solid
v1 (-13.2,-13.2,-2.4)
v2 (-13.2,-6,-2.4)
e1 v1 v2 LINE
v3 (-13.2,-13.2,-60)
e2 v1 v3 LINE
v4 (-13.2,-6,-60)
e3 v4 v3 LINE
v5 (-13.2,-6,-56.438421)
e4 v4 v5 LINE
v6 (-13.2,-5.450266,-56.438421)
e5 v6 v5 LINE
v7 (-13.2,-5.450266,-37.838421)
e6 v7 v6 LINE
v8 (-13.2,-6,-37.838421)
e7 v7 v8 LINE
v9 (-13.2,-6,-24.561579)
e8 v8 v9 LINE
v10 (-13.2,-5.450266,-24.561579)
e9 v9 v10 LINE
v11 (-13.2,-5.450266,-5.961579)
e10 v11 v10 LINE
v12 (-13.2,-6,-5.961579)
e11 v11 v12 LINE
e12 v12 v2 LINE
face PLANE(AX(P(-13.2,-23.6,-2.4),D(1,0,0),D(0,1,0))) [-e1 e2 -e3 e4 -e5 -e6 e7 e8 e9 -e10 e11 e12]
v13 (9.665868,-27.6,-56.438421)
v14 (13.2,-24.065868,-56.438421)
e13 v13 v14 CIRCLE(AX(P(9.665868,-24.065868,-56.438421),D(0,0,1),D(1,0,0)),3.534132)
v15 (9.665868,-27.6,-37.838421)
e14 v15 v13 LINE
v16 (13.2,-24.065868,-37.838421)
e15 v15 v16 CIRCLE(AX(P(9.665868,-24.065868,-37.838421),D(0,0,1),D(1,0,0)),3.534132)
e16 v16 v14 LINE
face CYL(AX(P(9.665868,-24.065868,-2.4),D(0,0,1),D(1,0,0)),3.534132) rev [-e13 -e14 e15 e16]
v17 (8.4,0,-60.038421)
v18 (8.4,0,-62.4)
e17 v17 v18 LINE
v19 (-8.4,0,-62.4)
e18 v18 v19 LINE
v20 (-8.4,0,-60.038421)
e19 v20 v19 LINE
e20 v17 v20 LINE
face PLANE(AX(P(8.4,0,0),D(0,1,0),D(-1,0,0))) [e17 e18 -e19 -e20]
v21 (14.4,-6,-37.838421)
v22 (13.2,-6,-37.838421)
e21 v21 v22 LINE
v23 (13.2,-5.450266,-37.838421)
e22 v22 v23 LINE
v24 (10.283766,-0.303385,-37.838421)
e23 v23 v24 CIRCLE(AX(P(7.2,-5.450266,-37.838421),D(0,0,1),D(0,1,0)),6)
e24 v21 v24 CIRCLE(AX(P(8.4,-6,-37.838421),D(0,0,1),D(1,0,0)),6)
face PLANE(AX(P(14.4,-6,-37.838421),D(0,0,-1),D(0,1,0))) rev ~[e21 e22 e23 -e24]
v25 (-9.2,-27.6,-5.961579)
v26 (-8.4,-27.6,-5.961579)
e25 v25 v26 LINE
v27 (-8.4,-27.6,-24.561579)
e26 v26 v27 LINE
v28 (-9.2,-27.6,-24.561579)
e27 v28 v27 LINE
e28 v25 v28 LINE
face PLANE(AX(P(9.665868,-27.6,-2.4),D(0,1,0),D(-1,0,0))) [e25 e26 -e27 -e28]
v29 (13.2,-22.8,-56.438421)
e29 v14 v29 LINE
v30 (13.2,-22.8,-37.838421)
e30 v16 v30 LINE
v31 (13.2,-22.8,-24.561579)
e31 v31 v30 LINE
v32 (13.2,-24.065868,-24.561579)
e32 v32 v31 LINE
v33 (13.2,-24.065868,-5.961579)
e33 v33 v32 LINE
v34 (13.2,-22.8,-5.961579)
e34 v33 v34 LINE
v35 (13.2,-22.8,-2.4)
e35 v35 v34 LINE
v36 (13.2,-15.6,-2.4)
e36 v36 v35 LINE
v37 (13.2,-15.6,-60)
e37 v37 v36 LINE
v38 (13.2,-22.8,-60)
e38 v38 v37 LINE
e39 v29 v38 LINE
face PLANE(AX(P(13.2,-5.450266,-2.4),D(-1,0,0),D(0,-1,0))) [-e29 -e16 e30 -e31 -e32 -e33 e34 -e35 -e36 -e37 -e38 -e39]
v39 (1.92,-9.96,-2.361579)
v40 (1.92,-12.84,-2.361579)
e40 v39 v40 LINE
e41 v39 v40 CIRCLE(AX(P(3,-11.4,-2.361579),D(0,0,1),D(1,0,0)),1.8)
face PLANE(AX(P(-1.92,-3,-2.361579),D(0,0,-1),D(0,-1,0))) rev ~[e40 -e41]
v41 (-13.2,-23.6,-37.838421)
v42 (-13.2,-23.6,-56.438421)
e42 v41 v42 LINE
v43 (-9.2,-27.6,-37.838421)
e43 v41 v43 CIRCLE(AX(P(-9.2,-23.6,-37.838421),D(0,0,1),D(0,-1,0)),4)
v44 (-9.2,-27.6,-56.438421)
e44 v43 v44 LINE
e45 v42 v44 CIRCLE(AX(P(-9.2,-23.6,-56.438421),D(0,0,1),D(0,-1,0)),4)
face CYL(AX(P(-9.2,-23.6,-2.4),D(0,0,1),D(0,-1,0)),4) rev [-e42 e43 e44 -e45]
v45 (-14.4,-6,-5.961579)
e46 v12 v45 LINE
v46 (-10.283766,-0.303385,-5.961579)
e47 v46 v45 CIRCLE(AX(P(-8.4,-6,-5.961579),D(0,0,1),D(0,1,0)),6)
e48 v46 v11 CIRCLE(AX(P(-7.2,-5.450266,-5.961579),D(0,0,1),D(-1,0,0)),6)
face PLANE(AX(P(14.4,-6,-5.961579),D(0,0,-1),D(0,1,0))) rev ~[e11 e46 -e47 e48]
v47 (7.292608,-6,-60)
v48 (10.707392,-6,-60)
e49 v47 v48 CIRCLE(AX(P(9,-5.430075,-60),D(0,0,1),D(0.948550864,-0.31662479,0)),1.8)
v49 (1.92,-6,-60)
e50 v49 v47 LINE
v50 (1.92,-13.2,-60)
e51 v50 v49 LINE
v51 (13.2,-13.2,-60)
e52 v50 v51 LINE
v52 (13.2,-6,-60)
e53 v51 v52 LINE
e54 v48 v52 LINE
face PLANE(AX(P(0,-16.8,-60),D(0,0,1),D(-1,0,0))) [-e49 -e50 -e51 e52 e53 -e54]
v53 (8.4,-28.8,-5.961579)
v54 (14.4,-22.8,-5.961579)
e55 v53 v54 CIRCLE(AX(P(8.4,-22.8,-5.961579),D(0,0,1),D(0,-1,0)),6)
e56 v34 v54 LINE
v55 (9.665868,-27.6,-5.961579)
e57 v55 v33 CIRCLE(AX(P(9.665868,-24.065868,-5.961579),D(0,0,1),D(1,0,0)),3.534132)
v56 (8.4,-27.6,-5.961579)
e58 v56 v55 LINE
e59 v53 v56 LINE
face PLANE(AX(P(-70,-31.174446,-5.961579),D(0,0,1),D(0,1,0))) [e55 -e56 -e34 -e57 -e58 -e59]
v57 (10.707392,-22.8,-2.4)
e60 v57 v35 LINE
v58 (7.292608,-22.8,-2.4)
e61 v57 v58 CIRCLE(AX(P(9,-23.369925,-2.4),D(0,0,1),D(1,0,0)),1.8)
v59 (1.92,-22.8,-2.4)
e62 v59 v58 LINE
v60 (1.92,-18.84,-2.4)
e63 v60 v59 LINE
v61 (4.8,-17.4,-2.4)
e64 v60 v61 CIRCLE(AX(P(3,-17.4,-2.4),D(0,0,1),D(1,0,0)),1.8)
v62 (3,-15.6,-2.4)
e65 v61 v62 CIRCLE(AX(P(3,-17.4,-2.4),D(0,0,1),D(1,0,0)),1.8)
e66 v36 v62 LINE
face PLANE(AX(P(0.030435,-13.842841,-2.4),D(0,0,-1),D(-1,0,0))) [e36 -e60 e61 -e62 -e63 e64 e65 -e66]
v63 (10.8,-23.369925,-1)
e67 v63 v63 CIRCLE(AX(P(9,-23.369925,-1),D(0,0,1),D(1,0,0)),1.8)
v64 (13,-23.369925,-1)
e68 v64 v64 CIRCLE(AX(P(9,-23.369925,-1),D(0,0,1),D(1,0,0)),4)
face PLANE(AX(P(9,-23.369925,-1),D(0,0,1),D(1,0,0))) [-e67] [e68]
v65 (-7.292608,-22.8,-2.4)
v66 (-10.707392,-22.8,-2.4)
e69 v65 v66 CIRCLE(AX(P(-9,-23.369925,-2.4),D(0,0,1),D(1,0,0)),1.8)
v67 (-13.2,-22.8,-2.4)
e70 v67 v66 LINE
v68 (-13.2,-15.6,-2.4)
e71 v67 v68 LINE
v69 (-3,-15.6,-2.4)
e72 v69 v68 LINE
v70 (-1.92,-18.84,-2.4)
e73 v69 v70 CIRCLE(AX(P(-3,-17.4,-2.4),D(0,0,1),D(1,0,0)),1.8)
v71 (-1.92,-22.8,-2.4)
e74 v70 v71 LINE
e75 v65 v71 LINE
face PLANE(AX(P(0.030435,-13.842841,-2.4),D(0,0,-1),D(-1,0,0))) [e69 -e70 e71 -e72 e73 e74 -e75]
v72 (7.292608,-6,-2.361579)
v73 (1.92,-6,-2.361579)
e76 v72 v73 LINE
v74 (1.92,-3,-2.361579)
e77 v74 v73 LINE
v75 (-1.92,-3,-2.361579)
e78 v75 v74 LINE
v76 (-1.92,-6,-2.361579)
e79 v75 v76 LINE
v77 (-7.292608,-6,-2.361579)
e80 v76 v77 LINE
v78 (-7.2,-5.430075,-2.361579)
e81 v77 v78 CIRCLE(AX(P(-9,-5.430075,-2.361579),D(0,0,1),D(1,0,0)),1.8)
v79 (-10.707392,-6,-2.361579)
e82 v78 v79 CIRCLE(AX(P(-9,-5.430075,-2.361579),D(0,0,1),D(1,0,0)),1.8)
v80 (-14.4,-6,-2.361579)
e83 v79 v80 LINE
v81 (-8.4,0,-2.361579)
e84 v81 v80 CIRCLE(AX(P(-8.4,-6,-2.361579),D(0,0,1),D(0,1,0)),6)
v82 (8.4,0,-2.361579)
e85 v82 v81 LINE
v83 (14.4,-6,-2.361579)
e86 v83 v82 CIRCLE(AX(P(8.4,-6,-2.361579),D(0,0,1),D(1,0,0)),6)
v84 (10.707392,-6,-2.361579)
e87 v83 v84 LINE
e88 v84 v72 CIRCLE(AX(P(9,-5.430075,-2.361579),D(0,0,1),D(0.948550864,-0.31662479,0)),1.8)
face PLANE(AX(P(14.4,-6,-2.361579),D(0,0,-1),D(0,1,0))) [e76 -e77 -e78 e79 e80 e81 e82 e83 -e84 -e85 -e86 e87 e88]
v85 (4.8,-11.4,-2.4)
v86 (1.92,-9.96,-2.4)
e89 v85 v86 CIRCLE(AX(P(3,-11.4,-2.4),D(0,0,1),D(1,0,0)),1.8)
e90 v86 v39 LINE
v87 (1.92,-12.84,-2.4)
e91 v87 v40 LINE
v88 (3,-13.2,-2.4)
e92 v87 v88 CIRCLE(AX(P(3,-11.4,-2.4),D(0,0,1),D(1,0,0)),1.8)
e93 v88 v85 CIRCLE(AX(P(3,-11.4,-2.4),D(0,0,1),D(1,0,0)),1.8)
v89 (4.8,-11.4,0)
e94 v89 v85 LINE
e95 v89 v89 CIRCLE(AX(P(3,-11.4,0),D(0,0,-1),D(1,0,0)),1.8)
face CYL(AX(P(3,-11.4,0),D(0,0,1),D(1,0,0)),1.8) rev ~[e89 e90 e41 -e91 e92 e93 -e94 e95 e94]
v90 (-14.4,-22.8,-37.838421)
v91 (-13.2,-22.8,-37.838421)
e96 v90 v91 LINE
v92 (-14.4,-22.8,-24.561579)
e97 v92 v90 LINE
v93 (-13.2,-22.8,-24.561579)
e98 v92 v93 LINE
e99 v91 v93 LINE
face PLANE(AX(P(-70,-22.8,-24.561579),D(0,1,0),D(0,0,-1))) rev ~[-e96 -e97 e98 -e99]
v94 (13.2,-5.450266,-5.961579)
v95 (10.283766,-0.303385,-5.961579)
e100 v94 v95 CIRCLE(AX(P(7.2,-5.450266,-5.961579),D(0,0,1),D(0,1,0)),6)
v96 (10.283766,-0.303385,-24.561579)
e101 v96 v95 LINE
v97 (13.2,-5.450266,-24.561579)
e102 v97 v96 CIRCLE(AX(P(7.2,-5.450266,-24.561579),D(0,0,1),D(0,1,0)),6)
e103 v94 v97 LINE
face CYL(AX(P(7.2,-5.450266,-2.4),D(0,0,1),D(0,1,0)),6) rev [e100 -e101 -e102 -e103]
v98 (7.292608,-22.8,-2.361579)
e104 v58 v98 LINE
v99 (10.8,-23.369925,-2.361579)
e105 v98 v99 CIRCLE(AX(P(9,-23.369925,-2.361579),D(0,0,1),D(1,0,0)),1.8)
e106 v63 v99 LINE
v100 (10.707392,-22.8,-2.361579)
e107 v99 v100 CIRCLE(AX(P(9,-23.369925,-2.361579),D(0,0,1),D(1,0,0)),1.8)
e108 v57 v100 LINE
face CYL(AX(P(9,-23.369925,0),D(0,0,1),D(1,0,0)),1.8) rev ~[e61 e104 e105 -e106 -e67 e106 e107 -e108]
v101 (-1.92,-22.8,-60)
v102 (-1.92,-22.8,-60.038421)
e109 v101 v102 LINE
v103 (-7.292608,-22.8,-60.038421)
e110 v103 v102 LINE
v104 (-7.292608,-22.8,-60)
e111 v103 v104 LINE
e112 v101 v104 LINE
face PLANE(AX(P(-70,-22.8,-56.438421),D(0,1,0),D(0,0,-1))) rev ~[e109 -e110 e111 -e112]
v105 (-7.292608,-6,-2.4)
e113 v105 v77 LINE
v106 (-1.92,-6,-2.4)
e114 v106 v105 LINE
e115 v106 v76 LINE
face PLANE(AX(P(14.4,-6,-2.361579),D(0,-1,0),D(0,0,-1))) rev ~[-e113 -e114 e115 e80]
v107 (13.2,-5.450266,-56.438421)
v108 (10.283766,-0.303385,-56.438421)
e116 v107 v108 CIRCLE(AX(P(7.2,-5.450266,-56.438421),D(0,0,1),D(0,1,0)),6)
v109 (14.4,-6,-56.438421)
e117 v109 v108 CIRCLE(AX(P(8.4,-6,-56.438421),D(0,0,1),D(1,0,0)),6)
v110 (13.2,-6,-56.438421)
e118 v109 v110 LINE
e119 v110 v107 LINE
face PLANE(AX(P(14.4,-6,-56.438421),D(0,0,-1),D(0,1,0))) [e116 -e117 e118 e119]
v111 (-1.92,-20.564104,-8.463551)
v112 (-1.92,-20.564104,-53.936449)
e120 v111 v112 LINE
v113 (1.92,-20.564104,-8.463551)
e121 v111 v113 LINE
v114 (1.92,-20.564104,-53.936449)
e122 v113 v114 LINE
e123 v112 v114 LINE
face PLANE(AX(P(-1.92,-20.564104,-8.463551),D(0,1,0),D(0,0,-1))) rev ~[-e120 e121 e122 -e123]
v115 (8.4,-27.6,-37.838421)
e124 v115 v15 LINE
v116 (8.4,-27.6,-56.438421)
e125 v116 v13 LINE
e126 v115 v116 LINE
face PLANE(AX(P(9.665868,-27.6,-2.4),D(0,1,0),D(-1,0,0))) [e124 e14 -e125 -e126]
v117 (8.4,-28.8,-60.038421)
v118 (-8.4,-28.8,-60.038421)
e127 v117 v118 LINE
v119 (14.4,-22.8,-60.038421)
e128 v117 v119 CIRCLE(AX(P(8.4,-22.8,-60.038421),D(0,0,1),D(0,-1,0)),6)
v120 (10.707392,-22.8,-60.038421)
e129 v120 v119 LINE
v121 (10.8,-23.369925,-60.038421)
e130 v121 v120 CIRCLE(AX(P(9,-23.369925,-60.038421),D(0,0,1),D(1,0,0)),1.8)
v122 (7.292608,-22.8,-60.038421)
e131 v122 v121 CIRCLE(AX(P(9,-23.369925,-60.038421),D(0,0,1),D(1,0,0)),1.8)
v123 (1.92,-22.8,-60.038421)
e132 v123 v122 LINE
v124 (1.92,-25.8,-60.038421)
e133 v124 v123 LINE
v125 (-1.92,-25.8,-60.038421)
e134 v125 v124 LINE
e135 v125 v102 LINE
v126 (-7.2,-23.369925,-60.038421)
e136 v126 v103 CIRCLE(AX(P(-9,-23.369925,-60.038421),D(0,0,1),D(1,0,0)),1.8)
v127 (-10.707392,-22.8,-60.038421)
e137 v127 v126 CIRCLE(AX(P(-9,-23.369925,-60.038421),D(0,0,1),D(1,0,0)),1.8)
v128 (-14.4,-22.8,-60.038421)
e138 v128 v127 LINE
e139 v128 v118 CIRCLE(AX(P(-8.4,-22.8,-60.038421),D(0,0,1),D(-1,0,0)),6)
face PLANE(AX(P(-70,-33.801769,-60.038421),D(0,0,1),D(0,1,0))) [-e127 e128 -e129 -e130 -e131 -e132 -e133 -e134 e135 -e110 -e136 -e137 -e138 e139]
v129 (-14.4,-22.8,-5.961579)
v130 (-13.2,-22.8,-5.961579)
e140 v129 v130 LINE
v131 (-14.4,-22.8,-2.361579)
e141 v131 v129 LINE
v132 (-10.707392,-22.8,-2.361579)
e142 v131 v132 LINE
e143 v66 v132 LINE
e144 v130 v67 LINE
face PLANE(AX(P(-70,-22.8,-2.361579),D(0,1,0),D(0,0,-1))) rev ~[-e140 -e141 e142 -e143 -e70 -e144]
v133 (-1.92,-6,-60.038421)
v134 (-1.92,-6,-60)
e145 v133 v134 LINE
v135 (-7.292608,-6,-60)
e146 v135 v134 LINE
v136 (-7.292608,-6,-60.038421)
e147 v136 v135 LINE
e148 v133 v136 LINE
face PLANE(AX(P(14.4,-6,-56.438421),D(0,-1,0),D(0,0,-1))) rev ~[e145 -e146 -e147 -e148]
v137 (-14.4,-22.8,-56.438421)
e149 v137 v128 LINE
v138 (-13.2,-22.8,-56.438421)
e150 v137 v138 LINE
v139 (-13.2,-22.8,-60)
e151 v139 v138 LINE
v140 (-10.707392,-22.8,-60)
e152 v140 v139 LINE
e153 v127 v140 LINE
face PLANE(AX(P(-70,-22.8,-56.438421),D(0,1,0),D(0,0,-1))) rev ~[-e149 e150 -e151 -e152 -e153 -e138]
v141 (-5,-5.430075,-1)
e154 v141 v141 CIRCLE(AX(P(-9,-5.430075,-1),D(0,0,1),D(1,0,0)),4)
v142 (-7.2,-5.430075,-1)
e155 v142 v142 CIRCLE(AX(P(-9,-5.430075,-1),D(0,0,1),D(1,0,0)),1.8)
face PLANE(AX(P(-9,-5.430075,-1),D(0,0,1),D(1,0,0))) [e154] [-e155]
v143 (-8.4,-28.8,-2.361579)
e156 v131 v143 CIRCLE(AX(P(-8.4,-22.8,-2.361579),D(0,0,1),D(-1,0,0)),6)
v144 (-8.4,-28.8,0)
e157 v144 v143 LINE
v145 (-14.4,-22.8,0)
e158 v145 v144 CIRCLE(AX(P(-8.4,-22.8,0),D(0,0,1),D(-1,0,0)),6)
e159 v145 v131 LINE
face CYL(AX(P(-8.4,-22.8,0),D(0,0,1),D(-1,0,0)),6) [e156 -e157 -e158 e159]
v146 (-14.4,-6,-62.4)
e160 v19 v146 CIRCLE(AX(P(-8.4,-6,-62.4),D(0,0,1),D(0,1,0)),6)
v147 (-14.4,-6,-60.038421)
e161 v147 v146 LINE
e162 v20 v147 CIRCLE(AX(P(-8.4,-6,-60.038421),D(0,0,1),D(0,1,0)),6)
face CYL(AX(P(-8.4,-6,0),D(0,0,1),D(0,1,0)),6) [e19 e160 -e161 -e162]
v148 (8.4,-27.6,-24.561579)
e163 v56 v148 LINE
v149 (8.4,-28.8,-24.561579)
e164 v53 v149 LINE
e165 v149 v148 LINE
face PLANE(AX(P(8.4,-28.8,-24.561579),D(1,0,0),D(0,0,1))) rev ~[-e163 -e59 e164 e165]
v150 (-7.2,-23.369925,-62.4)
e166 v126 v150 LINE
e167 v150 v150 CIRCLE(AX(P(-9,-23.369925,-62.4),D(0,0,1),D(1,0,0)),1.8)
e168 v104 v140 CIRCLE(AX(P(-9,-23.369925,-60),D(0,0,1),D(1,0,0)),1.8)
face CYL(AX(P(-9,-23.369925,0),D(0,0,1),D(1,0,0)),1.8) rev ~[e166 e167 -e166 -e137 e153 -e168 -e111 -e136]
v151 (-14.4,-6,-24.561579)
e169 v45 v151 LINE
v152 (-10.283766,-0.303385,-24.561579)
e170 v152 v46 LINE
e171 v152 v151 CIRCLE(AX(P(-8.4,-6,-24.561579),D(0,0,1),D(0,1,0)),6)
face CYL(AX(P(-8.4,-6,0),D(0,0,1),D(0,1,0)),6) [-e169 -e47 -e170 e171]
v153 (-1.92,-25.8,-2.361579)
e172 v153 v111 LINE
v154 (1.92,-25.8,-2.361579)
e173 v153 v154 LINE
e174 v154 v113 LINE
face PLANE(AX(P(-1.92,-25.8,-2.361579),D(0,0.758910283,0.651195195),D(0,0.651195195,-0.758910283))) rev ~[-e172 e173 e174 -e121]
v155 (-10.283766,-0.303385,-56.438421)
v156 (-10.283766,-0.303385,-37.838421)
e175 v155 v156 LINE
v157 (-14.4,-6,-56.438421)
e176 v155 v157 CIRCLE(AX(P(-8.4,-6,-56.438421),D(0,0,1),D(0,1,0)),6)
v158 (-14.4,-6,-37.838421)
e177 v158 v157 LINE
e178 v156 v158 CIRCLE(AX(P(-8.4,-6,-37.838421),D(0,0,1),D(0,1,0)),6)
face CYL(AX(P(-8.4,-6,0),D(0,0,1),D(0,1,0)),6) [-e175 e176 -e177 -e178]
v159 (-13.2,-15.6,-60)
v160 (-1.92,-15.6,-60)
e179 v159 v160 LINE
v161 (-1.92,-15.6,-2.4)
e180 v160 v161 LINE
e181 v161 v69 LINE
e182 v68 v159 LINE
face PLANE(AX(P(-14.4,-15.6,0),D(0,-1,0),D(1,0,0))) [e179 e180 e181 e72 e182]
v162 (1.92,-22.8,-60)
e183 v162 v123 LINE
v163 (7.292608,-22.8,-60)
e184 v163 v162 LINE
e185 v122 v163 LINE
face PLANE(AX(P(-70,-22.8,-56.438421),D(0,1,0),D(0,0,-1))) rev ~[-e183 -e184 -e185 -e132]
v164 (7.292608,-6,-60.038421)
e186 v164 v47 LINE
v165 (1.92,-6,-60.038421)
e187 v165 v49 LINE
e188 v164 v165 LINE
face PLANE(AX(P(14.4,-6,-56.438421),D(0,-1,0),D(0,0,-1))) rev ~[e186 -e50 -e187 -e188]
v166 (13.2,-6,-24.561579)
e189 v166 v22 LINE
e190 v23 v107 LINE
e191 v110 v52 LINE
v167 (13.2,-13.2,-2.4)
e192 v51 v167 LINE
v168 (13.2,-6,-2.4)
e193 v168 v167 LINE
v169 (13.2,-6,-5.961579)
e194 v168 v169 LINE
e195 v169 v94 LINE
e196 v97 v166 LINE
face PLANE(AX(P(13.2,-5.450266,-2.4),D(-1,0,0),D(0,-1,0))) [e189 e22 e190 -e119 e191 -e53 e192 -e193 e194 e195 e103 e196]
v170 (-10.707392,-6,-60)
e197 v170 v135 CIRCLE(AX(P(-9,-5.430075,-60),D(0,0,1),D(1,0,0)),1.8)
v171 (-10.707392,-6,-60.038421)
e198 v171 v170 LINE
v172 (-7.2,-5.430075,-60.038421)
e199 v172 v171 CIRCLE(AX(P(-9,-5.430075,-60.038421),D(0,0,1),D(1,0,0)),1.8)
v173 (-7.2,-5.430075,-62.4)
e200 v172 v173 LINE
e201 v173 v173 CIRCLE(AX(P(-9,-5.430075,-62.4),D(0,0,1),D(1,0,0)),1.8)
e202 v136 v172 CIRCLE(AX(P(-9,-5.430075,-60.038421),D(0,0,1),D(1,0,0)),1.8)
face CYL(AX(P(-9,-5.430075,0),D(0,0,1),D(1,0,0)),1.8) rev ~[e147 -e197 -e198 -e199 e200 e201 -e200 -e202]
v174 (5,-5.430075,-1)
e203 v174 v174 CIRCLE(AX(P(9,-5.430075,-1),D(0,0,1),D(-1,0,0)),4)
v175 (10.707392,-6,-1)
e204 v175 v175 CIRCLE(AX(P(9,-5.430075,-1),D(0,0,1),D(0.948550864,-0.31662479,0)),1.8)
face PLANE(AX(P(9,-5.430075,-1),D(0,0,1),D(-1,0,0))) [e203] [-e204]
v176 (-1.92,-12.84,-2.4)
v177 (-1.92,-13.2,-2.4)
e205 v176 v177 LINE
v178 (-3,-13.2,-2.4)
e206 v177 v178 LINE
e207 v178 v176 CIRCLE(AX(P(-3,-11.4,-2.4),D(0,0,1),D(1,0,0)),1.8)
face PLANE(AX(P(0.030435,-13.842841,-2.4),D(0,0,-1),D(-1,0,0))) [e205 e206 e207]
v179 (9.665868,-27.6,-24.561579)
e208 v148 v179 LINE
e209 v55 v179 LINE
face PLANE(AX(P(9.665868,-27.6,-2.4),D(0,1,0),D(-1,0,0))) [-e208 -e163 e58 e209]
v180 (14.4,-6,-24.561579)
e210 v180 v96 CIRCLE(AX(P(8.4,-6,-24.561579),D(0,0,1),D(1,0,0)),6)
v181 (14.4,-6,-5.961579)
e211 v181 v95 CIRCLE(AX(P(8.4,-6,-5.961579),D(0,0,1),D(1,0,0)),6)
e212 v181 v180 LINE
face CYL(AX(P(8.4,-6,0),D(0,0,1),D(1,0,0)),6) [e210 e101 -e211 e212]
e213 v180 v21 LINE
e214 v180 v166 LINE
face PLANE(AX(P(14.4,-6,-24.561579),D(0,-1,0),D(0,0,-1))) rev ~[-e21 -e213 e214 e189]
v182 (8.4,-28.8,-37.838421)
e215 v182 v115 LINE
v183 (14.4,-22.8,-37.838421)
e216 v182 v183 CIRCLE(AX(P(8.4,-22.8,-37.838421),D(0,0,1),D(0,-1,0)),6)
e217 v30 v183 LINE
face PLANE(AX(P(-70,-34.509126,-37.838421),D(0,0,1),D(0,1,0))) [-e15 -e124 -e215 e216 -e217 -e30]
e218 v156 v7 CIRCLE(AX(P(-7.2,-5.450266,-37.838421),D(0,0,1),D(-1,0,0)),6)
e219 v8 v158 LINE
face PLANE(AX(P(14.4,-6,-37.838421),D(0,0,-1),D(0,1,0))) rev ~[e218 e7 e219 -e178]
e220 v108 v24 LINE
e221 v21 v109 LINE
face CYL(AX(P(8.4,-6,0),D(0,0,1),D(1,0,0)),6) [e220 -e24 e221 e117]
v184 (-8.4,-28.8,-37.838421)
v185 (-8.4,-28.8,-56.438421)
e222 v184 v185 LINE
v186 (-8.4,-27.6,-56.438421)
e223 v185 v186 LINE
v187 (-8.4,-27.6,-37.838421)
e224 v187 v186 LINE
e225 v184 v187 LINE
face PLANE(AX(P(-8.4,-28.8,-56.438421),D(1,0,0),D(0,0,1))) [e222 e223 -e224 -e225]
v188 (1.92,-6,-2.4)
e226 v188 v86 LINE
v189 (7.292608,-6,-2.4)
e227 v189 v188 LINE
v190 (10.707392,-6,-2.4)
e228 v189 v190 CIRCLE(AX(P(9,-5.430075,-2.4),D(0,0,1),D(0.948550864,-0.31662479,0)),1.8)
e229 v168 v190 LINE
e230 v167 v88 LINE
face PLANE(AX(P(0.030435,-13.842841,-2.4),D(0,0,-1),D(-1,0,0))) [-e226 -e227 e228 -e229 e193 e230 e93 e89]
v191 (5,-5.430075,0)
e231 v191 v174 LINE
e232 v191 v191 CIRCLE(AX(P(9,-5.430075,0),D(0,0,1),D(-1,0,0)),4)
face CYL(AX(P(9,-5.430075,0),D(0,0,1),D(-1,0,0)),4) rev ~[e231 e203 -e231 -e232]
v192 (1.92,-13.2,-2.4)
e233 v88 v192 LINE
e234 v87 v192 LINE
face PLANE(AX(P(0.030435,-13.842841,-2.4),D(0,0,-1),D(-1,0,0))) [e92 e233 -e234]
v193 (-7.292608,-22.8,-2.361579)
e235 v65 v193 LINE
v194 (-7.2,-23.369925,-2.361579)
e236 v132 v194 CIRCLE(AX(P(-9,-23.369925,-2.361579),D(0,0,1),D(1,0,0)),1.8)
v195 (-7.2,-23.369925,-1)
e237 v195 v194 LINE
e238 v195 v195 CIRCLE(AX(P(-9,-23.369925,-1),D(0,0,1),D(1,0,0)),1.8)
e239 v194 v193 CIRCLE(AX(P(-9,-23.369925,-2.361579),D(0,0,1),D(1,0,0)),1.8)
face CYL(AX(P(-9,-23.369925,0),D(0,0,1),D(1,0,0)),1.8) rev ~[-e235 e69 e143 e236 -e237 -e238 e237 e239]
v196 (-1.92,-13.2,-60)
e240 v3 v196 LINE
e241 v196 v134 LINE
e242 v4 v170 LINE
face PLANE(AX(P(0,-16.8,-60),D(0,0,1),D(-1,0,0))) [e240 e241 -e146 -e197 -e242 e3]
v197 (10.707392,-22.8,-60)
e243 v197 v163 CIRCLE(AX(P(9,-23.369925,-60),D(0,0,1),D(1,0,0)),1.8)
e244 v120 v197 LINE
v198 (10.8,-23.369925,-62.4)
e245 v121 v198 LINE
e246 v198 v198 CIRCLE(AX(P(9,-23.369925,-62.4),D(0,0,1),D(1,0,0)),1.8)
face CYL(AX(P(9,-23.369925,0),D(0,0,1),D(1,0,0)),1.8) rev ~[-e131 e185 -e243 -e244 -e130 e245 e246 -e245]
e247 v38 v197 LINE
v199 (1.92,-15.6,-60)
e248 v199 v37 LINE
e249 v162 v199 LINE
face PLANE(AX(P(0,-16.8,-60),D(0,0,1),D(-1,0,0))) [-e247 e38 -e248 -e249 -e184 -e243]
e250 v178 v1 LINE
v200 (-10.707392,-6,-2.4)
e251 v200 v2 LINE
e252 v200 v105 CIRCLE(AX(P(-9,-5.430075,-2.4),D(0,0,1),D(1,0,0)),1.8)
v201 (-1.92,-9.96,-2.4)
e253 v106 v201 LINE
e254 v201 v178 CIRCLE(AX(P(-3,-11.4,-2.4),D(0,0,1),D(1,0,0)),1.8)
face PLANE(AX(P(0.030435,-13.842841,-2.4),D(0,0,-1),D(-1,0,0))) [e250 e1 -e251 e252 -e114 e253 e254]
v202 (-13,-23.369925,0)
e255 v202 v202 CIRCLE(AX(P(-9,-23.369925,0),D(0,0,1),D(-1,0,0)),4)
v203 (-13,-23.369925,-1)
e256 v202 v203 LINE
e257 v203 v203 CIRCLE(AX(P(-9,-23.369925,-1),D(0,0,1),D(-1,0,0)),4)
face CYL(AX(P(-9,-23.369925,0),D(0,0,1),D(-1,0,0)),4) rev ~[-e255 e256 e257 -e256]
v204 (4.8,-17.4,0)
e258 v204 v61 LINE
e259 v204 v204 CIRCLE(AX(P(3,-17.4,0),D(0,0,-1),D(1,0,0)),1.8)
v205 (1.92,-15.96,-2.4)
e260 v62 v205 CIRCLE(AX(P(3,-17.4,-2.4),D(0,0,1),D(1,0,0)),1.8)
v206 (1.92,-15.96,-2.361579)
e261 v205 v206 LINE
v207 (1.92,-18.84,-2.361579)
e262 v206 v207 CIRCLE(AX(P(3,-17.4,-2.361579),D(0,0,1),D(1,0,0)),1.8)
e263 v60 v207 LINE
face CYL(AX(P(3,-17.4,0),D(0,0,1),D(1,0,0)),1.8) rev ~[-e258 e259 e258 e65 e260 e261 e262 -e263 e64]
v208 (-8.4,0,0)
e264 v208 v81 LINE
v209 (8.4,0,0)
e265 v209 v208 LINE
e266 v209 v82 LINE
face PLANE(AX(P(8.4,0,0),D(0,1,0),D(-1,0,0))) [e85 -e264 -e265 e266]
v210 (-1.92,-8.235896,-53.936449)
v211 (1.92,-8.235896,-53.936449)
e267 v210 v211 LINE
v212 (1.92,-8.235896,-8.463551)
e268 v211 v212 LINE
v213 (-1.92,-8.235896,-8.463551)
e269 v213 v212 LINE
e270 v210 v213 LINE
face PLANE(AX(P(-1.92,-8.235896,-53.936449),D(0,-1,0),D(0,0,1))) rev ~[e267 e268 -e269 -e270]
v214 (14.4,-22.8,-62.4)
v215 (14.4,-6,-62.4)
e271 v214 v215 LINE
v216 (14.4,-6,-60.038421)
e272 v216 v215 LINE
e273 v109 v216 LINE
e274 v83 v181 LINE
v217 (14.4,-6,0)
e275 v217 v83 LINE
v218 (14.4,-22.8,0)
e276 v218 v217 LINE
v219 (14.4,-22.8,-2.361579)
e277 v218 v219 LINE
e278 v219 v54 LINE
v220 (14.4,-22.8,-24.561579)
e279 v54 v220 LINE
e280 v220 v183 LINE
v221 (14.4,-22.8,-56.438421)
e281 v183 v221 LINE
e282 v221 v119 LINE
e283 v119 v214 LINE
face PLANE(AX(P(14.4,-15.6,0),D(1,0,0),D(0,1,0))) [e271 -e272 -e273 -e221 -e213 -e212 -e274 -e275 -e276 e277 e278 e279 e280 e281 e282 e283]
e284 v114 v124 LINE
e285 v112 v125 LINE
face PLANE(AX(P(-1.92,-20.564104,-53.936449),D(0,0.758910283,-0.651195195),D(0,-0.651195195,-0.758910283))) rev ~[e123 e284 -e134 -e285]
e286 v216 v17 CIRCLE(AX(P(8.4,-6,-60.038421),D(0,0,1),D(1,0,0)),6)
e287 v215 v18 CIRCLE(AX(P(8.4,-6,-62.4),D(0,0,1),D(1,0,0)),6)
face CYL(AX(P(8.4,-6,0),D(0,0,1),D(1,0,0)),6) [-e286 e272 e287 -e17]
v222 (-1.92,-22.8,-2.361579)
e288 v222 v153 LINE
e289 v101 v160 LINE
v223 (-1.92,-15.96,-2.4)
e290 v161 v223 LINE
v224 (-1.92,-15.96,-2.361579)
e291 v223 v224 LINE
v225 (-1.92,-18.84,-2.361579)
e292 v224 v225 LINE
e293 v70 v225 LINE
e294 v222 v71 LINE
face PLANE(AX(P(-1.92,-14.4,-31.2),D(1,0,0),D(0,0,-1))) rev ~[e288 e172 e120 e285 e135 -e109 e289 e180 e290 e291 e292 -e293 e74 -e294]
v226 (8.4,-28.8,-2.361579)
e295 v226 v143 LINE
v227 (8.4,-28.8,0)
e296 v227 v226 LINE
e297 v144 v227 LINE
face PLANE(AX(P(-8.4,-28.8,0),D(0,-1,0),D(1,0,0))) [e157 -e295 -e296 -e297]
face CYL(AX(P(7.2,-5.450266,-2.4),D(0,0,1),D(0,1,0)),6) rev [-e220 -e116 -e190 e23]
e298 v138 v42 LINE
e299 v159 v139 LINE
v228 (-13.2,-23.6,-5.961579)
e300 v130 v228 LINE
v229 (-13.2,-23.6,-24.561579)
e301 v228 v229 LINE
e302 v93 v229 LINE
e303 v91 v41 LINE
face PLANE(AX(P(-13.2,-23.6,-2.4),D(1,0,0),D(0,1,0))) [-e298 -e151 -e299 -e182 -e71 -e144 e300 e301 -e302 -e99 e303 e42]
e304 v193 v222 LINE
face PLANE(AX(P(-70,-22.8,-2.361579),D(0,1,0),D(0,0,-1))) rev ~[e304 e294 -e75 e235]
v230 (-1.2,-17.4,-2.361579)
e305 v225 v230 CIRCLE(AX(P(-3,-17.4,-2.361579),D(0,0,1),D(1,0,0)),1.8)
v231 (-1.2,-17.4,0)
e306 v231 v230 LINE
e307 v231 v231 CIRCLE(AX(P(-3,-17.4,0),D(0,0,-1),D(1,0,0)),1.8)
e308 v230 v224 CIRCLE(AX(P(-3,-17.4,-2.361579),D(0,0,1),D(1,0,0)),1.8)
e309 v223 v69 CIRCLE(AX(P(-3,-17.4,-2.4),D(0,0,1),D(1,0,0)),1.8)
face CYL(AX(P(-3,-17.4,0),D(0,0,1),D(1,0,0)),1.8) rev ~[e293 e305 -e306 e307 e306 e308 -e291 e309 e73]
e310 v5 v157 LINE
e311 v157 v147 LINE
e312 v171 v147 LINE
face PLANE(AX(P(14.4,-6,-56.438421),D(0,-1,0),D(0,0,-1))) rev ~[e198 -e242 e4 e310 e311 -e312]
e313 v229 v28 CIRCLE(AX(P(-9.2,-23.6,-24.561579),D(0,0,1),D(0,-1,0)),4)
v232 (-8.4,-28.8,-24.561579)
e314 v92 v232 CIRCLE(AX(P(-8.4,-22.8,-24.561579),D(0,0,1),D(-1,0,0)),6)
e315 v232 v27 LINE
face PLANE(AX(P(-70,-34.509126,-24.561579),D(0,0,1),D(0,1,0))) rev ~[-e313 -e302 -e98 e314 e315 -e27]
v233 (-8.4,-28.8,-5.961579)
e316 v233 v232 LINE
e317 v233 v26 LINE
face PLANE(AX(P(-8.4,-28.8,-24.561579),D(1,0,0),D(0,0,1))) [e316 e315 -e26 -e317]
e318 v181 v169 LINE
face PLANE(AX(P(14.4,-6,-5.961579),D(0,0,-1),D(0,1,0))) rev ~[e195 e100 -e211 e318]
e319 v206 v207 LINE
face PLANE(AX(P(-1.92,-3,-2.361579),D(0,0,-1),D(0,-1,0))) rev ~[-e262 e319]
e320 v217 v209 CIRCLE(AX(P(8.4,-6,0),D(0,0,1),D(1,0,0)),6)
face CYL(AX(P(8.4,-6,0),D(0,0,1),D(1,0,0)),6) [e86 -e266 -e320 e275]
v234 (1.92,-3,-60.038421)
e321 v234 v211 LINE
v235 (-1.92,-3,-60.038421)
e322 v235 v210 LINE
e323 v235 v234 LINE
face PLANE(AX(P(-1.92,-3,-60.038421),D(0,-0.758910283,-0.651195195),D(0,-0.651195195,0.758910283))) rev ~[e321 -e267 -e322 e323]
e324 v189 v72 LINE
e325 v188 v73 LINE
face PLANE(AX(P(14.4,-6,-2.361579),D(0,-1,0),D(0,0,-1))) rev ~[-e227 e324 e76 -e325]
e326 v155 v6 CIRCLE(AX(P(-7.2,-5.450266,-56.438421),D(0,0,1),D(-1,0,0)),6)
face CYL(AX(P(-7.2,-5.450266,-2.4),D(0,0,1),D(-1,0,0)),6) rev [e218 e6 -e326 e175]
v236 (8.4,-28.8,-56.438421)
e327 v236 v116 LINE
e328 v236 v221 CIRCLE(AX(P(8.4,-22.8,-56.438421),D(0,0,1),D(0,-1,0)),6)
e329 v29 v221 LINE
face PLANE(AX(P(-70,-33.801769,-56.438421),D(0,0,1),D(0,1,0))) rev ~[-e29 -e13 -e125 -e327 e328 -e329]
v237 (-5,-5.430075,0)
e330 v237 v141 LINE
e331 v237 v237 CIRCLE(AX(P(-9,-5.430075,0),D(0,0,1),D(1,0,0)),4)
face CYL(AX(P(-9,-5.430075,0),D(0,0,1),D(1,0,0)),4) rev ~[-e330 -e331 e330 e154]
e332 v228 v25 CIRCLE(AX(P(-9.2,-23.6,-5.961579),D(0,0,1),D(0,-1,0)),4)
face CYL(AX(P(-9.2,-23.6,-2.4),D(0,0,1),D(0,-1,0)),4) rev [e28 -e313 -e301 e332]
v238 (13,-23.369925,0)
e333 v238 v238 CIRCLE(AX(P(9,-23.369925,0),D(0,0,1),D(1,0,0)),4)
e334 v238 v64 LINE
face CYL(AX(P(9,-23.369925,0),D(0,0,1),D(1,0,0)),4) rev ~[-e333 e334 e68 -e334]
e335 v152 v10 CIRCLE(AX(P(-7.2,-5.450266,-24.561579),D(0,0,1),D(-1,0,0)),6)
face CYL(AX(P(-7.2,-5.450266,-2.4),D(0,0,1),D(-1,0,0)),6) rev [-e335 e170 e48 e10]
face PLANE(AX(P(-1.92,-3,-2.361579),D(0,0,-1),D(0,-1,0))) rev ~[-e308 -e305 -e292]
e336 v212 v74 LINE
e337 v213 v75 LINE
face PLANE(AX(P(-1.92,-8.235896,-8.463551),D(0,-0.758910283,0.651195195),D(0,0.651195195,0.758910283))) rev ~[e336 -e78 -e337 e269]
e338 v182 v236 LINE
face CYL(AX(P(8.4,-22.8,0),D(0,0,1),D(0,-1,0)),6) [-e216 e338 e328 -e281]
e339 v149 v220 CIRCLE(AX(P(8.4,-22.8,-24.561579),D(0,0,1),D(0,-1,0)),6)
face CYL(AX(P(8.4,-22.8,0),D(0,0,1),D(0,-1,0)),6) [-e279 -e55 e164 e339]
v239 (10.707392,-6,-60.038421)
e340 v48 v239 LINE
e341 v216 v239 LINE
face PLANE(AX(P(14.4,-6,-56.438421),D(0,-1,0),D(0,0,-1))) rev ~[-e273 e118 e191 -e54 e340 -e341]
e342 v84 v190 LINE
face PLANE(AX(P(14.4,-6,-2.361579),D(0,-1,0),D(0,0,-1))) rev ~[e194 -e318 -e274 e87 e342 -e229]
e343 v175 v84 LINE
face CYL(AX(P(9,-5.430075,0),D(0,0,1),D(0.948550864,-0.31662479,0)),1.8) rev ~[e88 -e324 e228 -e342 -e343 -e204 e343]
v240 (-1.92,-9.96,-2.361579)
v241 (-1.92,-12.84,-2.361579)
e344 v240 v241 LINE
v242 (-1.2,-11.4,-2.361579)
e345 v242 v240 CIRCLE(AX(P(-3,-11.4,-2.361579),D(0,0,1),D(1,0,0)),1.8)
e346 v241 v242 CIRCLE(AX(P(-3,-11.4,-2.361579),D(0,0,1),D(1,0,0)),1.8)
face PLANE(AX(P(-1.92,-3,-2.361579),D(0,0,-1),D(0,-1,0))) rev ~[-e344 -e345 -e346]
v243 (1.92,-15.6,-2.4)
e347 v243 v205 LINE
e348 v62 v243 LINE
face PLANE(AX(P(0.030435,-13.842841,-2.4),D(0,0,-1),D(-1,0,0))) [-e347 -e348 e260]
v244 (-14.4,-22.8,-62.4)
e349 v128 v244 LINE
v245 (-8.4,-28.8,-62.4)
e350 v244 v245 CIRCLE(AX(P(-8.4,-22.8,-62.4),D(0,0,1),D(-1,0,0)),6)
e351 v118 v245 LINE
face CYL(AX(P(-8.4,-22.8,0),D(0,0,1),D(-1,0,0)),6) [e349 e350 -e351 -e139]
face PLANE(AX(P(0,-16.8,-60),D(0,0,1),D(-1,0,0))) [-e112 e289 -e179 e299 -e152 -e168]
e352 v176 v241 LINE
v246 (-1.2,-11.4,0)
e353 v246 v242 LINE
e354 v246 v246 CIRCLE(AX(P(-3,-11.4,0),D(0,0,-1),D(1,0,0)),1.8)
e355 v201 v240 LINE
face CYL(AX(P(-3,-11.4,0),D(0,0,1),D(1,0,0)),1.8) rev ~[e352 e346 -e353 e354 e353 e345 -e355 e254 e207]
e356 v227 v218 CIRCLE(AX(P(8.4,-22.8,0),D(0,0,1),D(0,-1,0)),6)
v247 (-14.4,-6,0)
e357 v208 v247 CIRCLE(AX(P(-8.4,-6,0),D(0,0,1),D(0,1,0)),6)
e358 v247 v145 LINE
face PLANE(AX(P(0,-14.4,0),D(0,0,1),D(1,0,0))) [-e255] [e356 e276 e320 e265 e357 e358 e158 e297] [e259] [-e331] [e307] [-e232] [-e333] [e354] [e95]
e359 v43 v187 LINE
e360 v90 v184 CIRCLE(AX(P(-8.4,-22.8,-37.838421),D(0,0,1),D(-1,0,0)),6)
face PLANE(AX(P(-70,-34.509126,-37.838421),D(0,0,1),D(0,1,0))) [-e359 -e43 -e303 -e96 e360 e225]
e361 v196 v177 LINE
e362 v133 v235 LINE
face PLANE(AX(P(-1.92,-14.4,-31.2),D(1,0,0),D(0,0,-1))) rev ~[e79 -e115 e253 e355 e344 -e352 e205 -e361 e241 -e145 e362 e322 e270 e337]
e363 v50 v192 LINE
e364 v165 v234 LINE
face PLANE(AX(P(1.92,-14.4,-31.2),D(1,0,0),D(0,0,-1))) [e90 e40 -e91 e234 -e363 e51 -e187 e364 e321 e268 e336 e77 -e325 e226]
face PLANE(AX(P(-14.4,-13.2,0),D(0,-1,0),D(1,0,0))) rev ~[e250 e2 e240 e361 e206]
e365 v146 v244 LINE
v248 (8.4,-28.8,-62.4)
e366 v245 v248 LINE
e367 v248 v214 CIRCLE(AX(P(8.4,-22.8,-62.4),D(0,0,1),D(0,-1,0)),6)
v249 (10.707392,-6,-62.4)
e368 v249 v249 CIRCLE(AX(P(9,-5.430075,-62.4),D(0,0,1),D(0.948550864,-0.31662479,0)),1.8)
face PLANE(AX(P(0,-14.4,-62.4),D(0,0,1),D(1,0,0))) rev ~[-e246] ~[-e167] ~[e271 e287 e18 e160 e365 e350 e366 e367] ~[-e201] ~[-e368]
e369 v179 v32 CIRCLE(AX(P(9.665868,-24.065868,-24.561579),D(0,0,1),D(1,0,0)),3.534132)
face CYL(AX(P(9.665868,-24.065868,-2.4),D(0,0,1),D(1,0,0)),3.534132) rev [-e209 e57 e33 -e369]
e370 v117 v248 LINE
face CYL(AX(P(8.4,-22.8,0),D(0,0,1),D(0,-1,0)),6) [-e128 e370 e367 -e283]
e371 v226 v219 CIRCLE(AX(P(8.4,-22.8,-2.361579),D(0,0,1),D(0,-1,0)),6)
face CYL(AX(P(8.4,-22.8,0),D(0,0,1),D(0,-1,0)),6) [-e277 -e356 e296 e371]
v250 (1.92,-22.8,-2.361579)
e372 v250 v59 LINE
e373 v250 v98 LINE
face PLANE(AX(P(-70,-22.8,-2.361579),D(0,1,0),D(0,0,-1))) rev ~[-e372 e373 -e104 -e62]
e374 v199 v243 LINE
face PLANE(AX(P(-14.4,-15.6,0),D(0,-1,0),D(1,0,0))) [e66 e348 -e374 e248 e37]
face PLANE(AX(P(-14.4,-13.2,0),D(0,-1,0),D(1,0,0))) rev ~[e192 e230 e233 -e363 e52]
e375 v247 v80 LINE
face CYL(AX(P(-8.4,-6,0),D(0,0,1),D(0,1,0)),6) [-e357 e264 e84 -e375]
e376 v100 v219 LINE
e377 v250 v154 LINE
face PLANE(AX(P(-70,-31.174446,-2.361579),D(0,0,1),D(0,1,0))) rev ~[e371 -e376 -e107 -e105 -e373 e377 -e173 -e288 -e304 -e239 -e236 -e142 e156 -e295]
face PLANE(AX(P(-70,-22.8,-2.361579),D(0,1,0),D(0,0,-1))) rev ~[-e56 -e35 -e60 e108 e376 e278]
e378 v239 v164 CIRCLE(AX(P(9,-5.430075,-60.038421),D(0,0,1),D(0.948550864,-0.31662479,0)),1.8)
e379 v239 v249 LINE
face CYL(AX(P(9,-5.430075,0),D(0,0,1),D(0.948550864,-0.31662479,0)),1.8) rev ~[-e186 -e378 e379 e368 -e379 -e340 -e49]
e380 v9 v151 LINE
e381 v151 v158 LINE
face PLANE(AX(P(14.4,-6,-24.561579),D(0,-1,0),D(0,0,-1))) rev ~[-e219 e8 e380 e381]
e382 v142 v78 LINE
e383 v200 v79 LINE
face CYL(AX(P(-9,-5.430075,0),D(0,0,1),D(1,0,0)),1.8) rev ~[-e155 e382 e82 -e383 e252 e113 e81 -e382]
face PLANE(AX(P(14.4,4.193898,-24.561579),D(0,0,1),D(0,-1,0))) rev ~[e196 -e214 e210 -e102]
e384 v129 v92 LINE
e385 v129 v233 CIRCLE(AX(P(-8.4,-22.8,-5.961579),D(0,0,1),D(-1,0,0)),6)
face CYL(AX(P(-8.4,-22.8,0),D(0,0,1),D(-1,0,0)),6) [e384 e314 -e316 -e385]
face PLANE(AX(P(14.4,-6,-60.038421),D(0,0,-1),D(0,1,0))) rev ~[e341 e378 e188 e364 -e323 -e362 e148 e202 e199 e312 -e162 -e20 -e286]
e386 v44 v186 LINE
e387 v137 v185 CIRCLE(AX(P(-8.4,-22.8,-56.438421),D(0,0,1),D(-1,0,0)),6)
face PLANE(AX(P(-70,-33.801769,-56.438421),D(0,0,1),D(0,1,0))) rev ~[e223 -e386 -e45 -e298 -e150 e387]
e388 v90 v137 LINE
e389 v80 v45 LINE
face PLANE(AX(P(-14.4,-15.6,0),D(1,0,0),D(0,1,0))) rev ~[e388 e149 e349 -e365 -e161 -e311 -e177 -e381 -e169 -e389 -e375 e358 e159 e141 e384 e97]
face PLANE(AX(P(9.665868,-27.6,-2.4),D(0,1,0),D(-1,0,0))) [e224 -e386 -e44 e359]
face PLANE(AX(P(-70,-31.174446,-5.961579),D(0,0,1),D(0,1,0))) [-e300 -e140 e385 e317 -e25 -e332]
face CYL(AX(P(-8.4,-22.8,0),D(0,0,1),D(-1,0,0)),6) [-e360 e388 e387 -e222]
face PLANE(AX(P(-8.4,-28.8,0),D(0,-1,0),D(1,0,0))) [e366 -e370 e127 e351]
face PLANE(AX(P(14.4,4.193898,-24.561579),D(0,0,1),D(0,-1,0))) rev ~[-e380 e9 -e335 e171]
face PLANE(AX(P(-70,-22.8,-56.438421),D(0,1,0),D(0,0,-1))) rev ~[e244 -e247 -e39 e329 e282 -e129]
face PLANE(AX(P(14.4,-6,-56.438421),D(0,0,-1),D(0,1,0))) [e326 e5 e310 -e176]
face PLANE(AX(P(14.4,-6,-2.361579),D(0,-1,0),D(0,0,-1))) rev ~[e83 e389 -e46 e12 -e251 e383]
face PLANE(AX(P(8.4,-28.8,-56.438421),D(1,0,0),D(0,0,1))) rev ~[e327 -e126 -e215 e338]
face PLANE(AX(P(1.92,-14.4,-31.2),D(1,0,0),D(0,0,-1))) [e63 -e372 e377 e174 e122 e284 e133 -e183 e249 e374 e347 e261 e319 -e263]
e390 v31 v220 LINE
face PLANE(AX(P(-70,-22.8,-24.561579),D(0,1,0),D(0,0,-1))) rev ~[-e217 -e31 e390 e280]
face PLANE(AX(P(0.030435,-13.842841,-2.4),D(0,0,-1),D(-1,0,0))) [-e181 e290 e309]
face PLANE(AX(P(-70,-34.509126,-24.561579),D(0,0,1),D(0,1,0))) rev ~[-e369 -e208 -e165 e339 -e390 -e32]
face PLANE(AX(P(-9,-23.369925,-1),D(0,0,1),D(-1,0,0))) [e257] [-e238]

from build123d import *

# Parameters (mm, degrees)
BOSS_EXTRU_1_DEPTH            = 62.4
ENL_V_MAT_EXTRU_1_DEPTH       = 27.6
ESQUISSE4_W                   = 3.6
ESQUISSE4_H                   = 10.193897514
ENL_V_MAT_EXTRU_2_DEPTH       = 62.4
ENL_V_MAT_EXTRU_5_REACH       = 74.618
ENL_V_START                   = -2.4
ESQUISSE7_R                   = 1.8
ENL_V_MAT_EXTRU_8_DEPTH       = 40
ESQUISSE8_R                   = 1.8
ENL_V_MAT_EXTRU_9_DEPTH       = 70
ENL_V_MAT_EXTRU_10_DEPTH      = 70
ENL_V_MAT_EXTRU_10_DEPTH_BACK = 70
ESQUISSE9_W                   = 3.6
ESQUISSE9_H                   = 8.374446498
ESQUISSE9_W_2                 = 13.276842972
ESQUISSE9_H_2                 = 11.709125621
ESQUISSE9_H_3                 = 11.001769443
ESQUISSE10_W                  = 28.8
ESQUISSE10_H                  = 2.4
BOSS_EXTRU_2_DEPTH            = 60
ESQUISSE12_W                  = 16.8
ESQUISSE12_H                  = 18.6
ENL_V_MAT_EXTRU_11_DEPTH      = 4
BOSS_EXTRU_3_DEPTH            = 1.92
BOSS_EXTRU_3_DEPTH_BACK       = 1.92
ESQUISSE14_R                  = 4
ENL_V_MAT_EXTRU_12_DEPTH      = 1


with BuildPart() as part:
    # Esquisse1 → Boss.-Extru.1 (new body)
    with BuildSketch(Plane.XY):
        with BuildLine():
            Line((8.4, 0), (-8.4, 0))
            ThreePointArc((-8.4, 0), (-12.642640687, -1.757359313), (-14.4, -6))
            Line((-14.4, -6), (-14.4, -22.8))
            ThreePointArc((-14.4, -22.8), (-12.642640687, -27.042640687), (-8.4, -28.8))
            Line((-8.4, -28.8), (8.4, -28.8))
            ThreePointArc((8.4, -28.8), (12.642640687, -27.042640687), (14.4, -22.8))
            Line((14.4, -22.8), (14.4, -6))
            ThreePointArc((14.4, -6), (12.642640687, -1.757359313), (8.4, 0))
        make_face()
    extrude(amount=-BOSS_EXTRU_1_DEPTH)

    # Esquisse2 → Enlèv. mat.-Extru.1 (cut)
    with BuildSketch(Plane(origin=(0, 0, 0), x_dir=(1, 0, 0), z_dir=(0, 1, 0))):
        Polygon((0, 2.4), (-8.4, 2.4), (-8.4, 60), (0, 60), (8.4, 60), (8.4, 2.4), align=None)
    extrude(amount=-ENL_V_MAT_EXTRU_1_DEPTH, mode=Mode.SUBTRACT)

    # Esquisse4 → Enlèv. mat.-Extru.2 (cut)
    with BuildSketch(Plane(origin=(14.4, 0, 0), x_dir=(0, 0, -1), z_dir=(1, 0, 0))):
        with Locations((4.161578514, -0.903051243)):
            Rectangle(ESQUISSE4_W, ESQUISSE4_H)
        Polygon((24.561578514, 4.193897514), (24.561578514, -6), (37.838421486, -6), (37.838421486, 4.193897514), (31.238421486, 4.193897514), (31.161578514, 4.193897514), align=None)
        with Locations((58.238421486, -0.903051243)):
            Rectangle(ESQUISSE4_W, ESQUISSE4_H)
    extrude(amount=-ENL_V_MAT_EXTRU_2_DEPTH, mode=Mode.SUBTRACT)

    # Enlèv. mat.-Extru.5: up to this face of the body (flat: up to its plane)
    enl_v_mat_extru_5_end = Plane(part.part.faces().sort_by_distance((0, -16.8, -60))[0])
    # Esquisse5 → Enlèv. mat.-Extru.5 (cut, up to the picked face)
    with BuildSketch(Plane.XY.offset(ENL_V_START), mode=Mode.PRIVATE) as enl_v_mat_extru_5_sk1:
        with BuildLine():
            Line((-7.2, 0.549733926), (7.2, 0.549733926))
            ThreePointArc((7.2, 0.549733926), (11.442640687, -1.207625387), (13.2, -5.450266074))
            Line((13.2, -5.450266074), (13.2, -13.850266074))
            Line((13.2, -13.850266074), (13.2, -14.949733926))
            Line((13.2, -14.949733926), (13.2, -23.349733926))
            Line((13.2, -23.349733926), (13.2, -24.06586829))
            ThreePointArc((13.2, -24.06586829), (12.164876788, -26.564876788), (9.66586829, -27.6))
            Line((9.66586829, -27.6), (0, -27.6))
            Line((0, -27.6), (-9.2, -27.6))
            ThreePointArc((-9.2, -27.6), (-12.028427125, -26.428427125), (-13.2, -23.6))
            Line((-13.2, -23.6), (-13.2, -23.349733926))
            Line((-13.2, -23.349733926), (-13.2, -14.949733926))
            Line((-13.2, -14.949733926), (-13.2, -13.850266074))
            Line((-13.2, -13.850266074), (-13.2, -5.450266074))
            ThreePointArc((-13.2, -5.450266074), (-11.442640687, -1.207625387), (-7.2, 0.549733926))
        make_face()
    enl_v_mat_extru_5_tool1 = split(extrude(enl_v_mat_extru_5_sk1.sketch, amount=-ENL_V_MAT_EXTRU_5_REACH, mode=Mode.PRIVATE), bisect_by=enl_v_mat_extru_5_end, keep=Keep.BOTH, mode=Mode.PRIVATE)
    add(enl_v_mat_extru_5_tool1.solids().sort_by(Axis((0.01246, -13.685747, -2.4), (0, 0, -1)))[0], mode=Mode.SUBTRACT)

    # Esquisse7 → Enlèv. mat.-Extru.8 (cut)
    with BuildSketch(Plane.XY):
        with Locations((3, -11.4)):
            Circle(ESQUISSE7_R)
        with Locations((-3, -11.4)):
            Circle(ESQUISSE7_R)
        with Locations((3, -17.4)):
            Circle(ESQUISSE7_R)
        with Locations((-3, -17.4)):
            Circle(ESQUISSE7_R)
    extrude(amount=-ENL_V_MAT_EXTRU_8_DEPTH, mode=Mode.SUBTRACT)

    # Esquisse8 → Enlèv. mat.-Extru.9 (cut)
    with BuildSketch(Plane.XY):
        with Locations((-9, -5.430075377)):
            Circle(ESQUISSE8_R)
        with Locations(Location((9, -5.430075377, 0), (0, 0, 341.541071197))):
            Circle(ESQUISSE8_R)
        with Locations((9, -23.369924623)):
            Circle(ESQUISSE8_R)
        with Locations((-9, -23.369924623)):
            Circle(ESQUISSE8_R)
    extrude(amount=-ENL_V_MAT_EXTRU_9_DEPTH, mode=Mode.SUBTRACT)

    # Esquisse9 → Enlèv. mat.-Extru.10 (cut, two sides: drawn at the far end of the back side and taken through both)
    with BuildSketch(Plane(origin=(0, 0, 0), x_dir=(0, 0, -1), z_dir=(1, 0, 0)).offset(-ENL_V_MAT_EXTRU_10_DEPTH_BACK)):
        with Locations((4.161578514, -26.987223249)):
            Rectangle(ESQUISSE9_W, ESQUISSE9_H)
        with Locations((31.2, -28.654562811)):
            Rectangle(ESQUISSE9_W_2, ESQUISSE9_H_2)
        with Locations((58.238421486, -28.300884722)):
            Rectangle(ESQUISSE9_W, ESQUISSE9_H_3)
    extrude(amount=ENL_V_MAT_EXTRU_10_DEPTH + ENL_V_MAT_EXTRU_10_DEPTH_BACK, mode=Mode.SUBTRACT)

    # Esquisse10 → Boss.-Extru.2 (add)
    with BuildSketch(Plane.XY):
        with Locations((0, -14.4)):
            Rectangle(ESQUISSE10_W, ESQUISSE10_H)
    extrude(amount=-BOSS_EXTRU_2_DEPTH)

    # Esquisse12 → Enlèv. mat.-Extru.11 (cut)
    with BuildSketch(Plane.XZ.offset(28.8)):
        with Locations((0, -47.138421486)):
            Rectangle(ESQUISSE12_W, ESQUISSE12_H)
        with Locations((0, -15.261578514)):
            Rectangle(ESQUISSE12_W, ESQUISSE12_H)
    extrude(amount=-ENL_V_MAT_EXTRU_11_DEPTH, mode=Mode.SUBTRACT)

    # Esquisse13 → Boss.-Extru.3 (add, two sides: drawn at the far end of the back side and taken through both)
    with BuildSketch(Plane(origin=(0, 0, 0), x_dir=(0, 0, -1), z_dir=(1, 0, 0)).offset(-BOSS_EXTRU_3_DEPTH_BACK)):
        Polygon((60.038421486, -3), (53.936448566, -8.235896166), (8.463551434, -8.235896166), (2.361578514, -3), (2.361578514, -25.8), (8.463551434, -20.564103834), (53.936448566, -20.564103834), (60.038421486, -25.8), align=None)
    extrude(amount=BOSS_EXTRU_3_DEPTH + BOSS_EXTRU_3_DEPTH_BACK)

    # Esquisse14 → Enlèv. mat.-Extru.12 (cut)
    with BuildSketch(Plane.XY):
        with Locations((-9, -5.430075377)):
            Circle(ESQUISSE14_R)
        with Locations(Location((9, -5.430075377, 0), (0, 0, 180))):
            Circle(ESQUISSE14_R)
        with Locations((9, -23.369924623)):
            Circle(ESQUISSE14_R)
        with Locations(Location((-9, -23.369924623, 0), (0, 0, 180))):
            Circle(ESQUISSE14_R)
    extrude(amount=-ENL_V_MAT_EXTRU_12_DEPTH, mode=Mode.SUBTRACT)


solid = part.part
